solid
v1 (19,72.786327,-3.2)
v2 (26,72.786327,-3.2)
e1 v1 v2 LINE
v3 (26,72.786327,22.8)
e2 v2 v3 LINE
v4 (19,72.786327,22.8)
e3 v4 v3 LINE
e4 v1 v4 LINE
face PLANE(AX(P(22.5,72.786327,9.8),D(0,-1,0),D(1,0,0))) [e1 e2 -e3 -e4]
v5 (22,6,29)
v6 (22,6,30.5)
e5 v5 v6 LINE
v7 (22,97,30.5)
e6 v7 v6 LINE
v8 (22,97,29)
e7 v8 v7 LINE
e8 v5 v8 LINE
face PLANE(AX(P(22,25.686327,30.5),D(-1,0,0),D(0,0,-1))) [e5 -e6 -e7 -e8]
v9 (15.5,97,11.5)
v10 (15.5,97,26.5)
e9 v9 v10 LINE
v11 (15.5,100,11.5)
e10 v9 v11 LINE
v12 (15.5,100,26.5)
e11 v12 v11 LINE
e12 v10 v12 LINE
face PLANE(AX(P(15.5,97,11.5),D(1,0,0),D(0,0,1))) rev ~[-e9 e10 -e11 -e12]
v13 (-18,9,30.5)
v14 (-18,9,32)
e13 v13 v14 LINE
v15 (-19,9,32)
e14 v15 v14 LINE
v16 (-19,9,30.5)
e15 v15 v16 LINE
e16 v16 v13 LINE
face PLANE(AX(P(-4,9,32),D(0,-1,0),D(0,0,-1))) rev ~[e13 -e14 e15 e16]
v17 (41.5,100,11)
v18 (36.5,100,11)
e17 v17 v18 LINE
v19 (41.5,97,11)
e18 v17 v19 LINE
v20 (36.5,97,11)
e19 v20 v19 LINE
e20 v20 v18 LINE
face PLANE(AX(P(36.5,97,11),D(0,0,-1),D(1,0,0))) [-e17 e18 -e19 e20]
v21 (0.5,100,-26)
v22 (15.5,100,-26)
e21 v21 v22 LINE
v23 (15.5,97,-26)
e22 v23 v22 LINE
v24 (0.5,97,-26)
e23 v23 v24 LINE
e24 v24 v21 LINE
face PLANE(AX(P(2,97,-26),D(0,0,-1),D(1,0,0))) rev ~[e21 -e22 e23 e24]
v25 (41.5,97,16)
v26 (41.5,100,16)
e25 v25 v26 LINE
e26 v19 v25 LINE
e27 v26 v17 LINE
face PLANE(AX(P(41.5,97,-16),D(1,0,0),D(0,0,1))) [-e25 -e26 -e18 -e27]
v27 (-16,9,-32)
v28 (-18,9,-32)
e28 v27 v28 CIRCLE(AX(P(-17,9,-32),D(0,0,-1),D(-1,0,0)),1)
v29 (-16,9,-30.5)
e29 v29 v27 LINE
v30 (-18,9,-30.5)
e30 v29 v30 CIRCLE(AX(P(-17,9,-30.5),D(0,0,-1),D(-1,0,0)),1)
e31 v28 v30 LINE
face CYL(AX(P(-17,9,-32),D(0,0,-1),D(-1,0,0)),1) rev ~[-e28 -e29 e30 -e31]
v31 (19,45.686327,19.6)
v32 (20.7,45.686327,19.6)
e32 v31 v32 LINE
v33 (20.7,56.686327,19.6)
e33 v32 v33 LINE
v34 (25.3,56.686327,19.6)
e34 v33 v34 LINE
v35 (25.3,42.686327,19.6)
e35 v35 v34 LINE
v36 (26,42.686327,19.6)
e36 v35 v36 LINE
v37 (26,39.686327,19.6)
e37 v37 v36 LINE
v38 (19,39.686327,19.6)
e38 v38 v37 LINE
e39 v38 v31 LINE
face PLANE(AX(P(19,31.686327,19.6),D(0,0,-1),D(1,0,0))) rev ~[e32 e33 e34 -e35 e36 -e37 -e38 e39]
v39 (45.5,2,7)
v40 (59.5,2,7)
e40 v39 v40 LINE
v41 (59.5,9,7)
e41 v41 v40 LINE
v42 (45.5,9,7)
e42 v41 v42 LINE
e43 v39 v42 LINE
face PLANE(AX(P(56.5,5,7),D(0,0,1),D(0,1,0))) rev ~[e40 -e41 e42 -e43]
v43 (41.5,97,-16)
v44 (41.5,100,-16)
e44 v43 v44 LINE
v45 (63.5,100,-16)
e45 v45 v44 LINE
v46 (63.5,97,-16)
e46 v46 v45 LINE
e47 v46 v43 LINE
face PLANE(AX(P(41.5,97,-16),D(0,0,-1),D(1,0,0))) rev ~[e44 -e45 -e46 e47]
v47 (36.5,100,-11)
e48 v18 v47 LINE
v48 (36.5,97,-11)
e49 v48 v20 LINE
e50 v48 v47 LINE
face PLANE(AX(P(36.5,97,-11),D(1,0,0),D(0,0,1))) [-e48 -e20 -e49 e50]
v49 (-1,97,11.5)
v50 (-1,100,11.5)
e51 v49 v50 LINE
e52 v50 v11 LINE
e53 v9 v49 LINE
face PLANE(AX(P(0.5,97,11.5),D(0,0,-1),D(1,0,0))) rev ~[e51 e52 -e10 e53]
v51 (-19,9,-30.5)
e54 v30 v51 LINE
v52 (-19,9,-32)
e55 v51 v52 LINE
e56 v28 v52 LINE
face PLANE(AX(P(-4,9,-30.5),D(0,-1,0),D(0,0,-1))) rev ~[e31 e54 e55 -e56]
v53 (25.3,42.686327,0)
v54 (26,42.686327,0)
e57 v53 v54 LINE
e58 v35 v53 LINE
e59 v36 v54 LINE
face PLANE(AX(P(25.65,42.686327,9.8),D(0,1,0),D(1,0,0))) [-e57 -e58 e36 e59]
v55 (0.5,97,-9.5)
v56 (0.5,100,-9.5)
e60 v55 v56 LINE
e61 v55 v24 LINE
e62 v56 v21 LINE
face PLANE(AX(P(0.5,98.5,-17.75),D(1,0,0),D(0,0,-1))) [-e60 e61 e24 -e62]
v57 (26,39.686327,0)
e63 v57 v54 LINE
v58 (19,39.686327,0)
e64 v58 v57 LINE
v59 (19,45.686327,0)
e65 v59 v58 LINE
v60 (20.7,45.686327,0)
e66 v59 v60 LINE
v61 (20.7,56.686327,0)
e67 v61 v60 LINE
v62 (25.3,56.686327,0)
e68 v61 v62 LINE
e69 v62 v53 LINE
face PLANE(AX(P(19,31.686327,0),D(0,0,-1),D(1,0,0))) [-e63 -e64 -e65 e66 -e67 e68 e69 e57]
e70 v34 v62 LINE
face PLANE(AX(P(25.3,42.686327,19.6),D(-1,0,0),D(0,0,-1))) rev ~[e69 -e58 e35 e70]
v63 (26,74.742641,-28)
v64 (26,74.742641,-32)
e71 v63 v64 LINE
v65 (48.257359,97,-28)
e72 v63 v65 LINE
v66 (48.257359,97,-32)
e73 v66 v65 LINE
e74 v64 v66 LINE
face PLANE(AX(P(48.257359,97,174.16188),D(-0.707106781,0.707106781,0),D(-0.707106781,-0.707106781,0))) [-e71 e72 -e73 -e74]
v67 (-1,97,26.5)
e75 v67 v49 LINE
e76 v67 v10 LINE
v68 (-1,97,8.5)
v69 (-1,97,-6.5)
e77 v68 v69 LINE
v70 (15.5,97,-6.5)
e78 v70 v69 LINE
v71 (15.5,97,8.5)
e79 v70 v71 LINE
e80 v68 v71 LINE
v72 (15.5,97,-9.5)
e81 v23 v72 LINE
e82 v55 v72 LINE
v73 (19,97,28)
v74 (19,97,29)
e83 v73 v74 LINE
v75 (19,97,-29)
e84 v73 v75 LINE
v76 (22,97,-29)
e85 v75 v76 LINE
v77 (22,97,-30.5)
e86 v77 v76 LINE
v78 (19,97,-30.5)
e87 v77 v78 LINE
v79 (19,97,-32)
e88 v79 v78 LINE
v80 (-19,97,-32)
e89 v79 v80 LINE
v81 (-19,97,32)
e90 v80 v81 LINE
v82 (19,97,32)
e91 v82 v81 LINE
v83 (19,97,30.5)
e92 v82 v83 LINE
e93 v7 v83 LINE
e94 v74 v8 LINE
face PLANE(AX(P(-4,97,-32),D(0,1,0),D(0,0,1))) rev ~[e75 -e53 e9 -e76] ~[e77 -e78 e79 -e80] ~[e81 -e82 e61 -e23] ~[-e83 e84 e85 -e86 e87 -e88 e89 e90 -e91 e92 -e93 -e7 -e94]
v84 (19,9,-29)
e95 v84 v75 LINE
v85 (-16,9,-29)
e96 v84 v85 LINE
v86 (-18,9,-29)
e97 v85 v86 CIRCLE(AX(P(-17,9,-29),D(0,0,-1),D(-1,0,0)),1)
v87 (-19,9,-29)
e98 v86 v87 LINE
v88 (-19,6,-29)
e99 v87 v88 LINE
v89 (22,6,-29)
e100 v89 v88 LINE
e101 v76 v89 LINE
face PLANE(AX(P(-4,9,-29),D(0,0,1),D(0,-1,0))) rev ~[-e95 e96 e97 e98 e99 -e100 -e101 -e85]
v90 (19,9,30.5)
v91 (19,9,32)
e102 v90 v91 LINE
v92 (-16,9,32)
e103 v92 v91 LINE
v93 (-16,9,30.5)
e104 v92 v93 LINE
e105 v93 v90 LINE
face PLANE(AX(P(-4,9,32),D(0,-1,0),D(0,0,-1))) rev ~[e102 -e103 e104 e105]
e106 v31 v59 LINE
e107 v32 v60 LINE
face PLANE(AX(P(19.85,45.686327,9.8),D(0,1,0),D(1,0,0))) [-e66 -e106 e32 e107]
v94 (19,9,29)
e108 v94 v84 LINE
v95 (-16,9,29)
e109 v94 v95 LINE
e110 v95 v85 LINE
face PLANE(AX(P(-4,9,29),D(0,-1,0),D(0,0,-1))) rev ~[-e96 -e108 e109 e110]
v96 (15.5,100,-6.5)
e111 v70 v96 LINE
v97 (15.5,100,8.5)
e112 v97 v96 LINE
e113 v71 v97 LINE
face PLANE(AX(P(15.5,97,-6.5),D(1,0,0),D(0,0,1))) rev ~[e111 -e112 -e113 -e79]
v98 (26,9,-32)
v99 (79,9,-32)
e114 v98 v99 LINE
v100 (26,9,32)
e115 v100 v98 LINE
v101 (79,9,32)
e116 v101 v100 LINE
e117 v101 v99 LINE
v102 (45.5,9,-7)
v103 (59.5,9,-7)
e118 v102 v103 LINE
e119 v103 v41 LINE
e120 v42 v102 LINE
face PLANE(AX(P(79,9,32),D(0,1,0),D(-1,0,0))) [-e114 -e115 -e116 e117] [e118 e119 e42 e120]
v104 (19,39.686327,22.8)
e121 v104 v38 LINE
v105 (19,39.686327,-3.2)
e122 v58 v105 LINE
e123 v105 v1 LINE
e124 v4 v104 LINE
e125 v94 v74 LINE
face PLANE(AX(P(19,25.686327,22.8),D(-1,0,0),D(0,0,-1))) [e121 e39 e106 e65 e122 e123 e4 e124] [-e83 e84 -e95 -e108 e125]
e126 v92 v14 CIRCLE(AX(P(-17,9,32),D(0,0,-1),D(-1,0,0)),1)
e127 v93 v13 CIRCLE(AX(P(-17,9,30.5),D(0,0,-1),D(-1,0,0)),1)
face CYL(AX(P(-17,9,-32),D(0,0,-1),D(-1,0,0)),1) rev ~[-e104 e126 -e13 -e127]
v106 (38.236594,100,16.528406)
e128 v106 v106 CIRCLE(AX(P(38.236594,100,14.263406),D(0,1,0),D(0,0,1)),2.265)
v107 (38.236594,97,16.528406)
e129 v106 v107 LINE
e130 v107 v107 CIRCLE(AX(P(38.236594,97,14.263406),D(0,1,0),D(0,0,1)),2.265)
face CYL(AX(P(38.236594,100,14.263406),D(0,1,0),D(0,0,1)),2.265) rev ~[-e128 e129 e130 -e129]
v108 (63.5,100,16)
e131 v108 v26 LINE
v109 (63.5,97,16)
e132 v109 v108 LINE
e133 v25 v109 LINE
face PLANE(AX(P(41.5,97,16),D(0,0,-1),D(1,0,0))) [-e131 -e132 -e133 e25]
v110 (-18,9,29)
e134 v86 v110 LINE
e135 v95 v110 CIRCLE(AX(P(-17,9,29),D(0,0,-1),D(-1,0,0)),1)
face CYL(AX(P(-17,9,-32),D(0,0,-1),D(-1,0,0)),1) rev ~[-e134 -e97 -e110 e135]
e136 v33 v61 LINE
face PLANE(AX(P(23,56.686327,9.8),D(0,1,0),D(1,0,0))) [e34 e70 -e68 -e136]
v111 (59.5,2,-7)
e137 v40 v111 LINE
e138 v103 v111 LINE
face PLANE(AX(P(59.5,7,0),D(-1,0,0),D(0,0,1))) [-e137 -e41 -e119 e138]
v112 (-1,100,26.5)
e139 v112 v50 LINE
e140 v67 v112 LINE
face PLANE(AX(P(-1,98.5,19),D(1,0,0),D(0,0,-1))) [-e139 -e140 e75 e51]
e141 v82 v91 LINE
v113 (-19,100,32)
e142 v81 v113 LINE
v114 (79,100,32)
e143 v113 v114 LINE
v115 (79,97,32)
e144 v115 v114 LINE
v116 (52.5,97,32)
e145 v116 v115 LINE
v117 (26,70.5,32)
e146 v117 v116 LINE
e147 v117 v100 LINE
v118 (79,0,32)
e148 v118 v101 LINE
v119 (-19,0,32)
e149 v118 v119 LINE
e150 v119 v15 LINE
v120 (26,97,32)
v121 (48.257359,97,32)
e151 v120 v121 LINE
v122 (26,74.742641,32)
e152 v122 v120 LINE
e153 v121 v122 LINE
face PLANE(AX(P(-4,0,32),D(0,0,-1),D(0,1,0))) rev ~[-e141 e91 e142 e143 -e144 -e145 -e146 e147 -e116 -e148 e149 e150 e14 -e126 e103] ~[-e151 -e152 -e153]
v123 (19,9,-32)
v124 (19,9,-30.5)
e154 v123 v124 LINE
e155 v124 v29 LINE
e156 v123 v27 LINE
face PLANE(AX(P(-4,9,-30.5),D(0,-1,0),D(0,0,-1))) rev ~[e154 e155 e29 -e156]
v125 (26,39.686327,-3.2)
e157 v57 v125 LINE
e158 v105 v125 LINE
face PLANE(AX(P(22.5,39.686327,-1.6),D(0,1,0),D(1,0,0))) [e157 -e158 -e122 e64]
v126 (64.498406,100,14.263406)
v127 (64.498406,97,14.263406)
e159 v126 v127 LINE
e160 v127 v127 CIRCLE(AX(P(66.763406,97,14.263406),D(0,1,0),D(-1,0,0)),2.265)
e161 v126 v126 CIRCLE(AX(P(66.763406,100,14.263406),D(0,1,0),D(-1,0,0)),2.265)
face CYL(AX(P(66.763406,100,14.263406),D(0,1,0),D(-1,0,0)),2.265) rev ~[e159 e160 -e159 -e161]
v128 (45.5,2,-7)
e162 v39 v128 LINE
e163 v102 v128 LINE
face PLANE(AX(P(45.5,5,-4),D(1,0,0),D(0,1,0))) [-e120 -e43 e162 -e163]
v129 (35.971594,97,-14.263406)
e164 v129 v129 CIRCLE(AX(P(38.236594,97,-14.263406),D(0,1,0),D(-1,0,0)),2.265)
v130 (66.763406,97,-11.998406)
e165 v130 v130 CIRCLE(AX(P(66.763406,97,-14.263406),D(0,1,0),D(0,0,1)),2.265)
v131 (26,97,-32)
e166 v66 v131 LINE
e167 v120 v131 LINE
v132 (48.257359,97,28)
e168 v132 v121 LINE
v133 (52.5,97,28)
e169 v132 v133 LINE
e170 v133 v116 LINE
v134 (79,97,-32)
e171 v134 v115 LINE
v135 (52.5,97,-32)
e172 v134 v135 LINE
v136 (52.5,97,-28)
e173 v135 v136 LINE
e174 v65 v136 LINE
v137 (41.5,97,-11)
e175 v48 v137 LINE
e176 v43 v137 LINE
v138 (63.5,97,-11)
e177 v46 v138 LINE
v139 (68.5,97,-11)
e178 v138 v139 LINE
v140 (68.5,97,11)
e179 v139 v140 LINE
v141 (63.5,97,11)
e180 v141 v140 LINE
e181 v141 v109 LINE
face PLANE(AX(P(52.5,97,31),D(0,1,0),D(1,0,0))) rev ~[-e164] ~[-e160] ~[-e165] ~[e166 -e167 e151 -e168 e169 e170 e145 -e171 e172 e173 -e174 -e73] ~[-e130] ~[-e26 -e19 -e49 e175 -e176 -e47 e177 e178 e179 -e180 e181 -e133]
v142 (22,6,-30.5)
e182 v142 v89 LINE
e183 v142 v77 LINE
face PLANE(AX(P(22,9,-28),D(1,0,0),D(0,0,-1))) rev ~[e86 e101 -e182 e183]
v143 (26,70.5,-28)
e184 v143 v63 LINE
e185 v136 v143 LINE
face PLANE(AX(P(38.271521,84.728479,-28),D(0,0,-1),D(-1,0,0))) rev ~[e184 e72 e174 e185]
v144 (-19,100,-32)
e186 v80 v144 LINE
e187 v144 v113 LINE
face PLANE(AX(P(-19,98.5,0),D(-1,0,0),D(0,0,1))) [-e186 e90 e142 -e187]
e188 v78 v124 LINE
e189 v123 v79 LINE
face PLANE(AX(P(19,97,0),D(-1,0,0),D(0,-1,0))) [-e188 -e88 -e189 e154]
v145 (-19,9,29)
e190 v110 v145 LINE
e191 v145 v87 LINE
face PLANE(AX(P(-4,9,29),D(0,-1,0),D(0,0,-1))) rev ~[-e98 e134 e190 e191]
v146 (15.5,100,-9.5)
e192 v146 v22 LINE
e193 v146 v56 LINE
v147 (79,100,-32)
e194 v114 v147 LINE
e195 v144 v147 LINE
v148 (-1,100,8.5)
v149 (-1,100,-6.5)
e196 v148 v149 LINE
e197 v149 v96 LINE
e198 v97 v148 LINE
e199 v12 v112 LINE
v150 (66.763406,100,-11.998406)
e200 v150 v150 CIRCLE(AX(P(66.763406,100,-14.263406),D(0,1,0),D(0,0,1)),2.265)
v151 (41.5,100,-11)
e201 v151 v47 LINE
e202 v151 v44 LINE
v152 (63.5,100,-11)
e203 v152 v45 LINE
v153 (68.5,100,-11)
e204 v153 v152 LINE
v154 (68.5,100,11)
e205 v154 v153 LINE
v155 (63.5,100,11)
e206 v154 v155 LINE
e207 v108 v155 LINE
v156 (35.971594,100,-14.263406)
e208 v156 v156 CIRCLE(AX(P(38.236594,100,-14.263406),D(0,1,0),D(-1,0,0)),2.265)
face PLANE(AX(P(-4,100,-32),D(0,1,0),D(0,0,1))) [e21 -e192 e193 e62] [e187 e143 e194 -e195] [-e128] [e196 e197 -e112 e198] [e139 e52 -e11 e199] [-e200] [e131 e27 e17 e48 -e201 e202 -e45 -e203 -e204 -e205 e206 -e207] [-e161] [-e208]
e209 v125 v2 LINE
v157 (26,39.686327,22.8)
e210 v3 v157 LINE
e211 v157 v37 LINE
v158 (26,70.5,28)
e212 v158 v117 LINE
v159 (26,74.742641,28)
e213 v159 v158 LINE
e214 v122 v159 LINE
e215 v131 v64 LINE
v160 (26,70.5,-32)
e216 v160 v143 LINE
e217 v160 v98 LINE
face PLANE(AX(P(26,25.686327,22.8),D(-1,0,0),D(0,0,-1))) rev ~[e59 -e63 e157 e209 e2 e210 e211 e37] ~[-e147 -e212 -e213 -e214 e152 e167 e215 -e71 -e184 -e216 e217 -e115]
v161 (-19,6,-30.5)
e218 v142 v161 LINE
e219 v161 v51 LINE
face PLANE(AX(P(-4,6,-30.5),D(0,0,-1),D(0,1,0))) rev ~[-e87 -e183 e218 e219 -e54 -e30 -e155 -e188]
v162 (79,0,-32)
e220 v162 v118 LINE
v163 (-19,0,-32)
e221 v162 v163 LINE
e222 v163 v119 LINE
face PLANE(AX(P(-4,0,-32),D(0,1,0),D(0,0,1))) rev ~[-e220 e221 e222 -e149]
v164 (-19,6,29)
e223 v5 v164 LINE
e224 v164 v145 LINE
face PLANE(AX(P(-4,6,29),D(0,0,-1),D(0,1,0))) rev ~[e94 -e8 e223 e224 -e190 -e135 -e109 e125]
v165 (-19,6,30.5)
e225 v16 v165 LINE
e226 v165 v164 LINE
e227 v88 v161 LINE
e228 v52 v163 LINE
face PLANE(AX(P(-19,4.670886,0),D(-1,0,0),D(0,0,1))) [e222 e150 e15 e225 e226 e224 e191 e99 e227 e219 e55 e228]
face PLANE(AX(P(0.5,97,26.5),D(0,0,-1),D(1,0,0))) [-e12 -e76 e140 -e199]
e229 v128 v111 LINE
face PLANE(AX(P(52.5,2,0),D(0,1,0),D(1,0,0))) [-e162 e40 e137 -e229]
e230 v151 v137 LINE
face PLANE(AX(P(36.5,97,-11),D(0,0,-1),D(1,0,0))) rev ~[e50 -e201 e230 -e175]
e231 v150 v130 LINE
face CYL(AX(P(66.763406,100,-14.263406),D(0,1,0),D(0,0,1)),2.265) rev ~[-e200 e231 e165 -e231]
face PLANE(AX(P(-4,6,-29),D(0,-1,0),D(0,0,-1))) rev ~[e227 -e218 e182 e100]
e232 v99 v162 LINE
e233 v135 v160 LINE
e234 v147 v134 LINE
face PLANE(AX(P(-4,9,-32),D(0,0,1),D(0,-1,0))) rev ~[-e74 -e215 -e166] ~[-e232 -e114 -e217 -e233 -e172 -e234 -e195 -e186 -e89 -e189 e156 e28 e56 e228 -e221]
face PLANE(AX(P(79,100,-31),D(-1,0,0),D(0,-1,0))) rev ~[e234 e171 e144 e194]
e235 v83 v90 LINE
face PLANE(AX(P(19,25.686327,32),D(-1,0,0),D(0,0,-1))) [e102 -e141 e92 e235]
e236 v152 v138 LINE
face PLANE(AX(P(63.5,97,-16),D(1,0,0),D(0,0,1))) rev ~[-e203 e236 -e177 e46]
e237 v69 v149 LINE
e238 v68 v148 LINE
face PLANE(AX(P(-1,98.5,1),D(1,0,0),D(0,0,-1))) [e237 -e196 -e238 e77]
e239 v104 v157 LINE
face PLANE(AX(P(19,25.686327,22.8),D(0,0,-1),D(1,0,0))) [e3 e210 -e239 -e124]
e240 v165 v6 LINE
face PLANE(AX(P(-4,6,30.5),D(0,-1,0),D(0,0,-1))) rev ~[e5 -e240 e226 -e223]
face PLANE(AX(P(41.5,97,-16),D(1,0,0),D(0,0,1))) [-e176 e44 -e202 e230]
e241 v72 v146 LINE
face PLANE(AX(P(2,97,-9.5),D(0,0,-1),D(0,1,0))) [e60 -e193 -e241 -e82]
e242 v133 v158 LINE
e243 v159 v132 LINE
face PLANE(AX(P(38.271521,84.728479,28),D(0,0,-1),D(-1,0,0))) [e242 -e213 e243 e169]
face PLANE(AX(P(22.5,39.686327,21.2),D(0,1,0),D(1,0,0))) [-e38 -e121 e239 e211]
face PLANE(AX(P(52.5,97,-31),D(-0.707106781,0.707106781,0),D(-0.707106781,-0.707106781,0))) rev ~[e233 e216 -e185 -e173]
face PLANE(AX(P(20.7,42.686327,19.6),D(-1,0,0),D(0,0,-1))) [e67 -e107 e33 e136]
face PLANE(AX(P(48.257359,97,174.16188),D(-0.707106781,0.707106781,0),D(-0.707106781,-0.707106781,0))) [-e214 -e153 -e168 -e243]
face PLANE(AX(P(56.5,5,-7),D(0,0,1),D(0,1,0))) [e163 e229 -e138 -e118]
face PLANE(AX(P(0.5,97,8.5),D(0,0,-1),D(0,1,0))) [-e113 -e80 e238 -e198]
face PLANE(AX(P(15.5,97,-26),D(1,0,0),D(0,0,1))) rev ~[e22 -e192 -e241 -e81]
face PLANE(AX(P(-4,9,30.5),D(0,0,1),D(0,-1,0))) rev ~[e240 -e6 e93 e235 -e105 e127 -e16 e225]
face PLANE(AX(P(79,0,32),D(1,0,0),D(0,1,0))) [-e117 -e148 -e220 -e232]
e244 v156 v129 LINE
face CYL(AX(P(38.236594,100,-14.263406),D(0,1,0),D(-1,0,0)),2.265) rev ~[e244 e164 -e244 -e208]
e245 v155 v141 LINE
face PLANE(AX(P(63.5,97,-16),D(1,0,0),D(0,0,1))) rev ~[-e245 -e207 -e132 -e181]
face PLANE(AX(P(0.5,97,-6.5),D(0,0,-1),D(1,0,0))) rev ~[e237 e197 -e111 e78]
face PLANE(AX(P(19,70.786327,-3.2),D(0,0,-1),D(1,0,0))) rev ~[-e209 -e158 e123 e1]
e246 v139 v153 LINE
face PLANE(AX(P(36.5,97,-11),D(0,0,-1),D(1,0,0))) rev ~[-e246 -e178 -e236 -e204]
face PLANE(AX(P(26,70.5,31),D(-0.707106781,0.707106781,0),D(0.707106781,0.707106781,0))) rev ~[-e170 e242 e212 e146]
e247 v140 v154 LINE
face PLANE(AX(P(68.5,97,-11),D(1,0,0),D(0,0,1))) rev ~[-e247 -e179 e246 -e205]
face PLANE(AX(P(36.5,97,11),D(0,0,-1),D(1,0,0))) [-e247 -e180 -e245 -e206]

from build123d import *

# Parameters (mm, degrees)
EXTRUDE_2_DEPTH           = 31
SKETCH_2_W                = 8
SKETCH_2_H                = 8
CUT_EXTRUDE_1_DEPTH       = 4
EXTRUDE_4_DEPTH           = 3
EXTRUDE_5_DEPTH           = 3
SKETCH_10_W               = 22
SKETCH_10_H               = 11
CUT_EXTRUDE_2_DEPTH       = 118.345643294
SKETCH_11_W               = 0.7
SKETCH_11_H               = 28
CUT_EXTRUDE_3_DEPTH       = 118.345643294
SKETCH_12_W               = 0.7
SKETCH_12_H               = 28
CUT_EXTRUDE_4_DEPTH       = 118.345643294
SKETCH_13_W               = 20.6
SKETCH_13_H               = 11
CUT_EXTRUDE_6_DEPTH       = 0.7
SKETCH_15_W               = 20.6
SKETCH_15_H               = 14
CUT_EXTRUDE_7_DEPTH       = 0.7
SKETCH_17_W               = 15
SKETCH_17_H               = 15
CUT_EXTRUDE_8_DEPTH       = 129.883668477
SKETCH_18_W               = 62
SKETCH_18_H               = 3
EXTRUDE_6_DEPTH           = 3
SKETCH_20_W               = 62
SKETCH_20_H               = 9
EXTRUDE_7_DEPTH           = 3
SKETCH_22_W               = 15
SKETCH_22_H               = 15
CUT_EXTRUDE_10_DEPTH      = 129.883668477
SKETCH_23_W               = 13.5
SKETCH_23_H               = 16.5
CUT_EXTRUDE_11_DEPTH      = 129.883668477
SKETCH_26_W               = 32
SKETCH_26_H               = 22
CUT_EXTRUDE_14_DEPTH      = 129.883668477
SKETCH_29_W               = 22
SKETCH_29_H               = 32
CUT_EXTRUDE_15_DEPTH      = 129.883668477
CUT_EXTRUDE_16_REACH      = 133.156
SKETCH_30_R               = 1.263405553
SKETCH_31_W               = 25
SKETCH_31_H               = 1.5
CUT_EXTRUDE_18_DEPTH      = 3
SKETCH_32_W               = 3
SKETCH_32_H               = 1.5
CUT_EXTRUDE_19_DEPTH      = 88
SKETCH_33_W               = 3
SKETCH_33_H               = 1.5
CUT_EXTRUDE_20_DEPTH      = 17
SKETCH_34_W               = 1.5
SKETCH_34_H               = 43.313673025
CUT_EXTRUDE_21_DEPTH      = 3
SKETCH_35_R               = 1
CUT_EXTRUDE_23_DEPTH      = 142.721557993
SKETCH_39_R               = 2.265
CUT_EXTRUDE_24_DEPTH      = 10
SKETCH_40_W               = 15
SKETCH_40_H               = 3
CUT_EXTRUDE_25_DEPTH      = 1.5
SKETCH_41_W               = 15
SKETCH_41_H               = 3
CUT_EXTRUDE_26_DEPTH      = 1.5
SKETCH_42_W               = 16.5
SKETCH_42_H               = 3
CUT_EXTRUDE_27_DEPTH      = 1.5
SKETCH_43_W               = 7
SKETCH_43_H               = 28
CUT_EXTRUDE_28_DEPTH      = 1.5
CUT_EXTRUDE_29_DEPTH      = 1
SKETCH_45_W               = 19.6
SKETCH_45_H               = 11
CUT_EXTRUDE_30_DEPTH      = 1
EXTRUDE_8_DEPTH           = 1
EXTRUDE_START             = 1
EXTRUDE_9_DEPTH           = 1
EXTRUDE_10_DEPTH          = 1
CUT_EXTRUDE_31_DEPTH      = 1
EXTRUDE_11_DEPTH          = 1
SKETCH_51_W               = 3
SKETCH_51_H               = 43.313673025
CUT_EXTRUDE_32_DEPTH      = 1
SKETCH_52_W               = 3
SKETCH_52_H               = 43.313673025
EXTRUDE_12_DEPTH          = 1
CUT_EXTRUDE_START         = -1
CUT_EXTRUDE_33_DEPTH      = 1
EXTRUDE_13_DEPTH          = 1
SKETCH_56_W               = 64
SKETCH_56_H               = 3
EXTRUDE_14_DEPTH          = 1
EXTRUDE_15_DEPTH          = 1
CUT_EXTRUDE_34_DEPTH      = 12.1
SKETCH_60_W               = 7.5
SKETCH_60_H               = 40.1
CUT_EXTRUDE_35_DEPTH      = 118.613774703
EXTRUDE_16_DEPTH          = 7.5
CUT_EXTRUDE_37_DEPTH      = 7.5
SKETCH_63_W               = 6.2
SKETCH_63_H               = 0.313673025
CUT_EXTRUDE_38_DEPTH      = 120.469661421
SKETCH_66_W               = 7
SKETCH_66_H               = 40.1
CUT_EXTRUDE_39_DEPTH      = 3.2
EXTRUDE_17_DEPTH          = 3.2
CUT_EXTRUDE_40_DEPTH      = 3.2
EXTRUDE_18_DEPTH          = 48.2
SKETCH_71_W               = 4.6
SKETCH_71_H               = 19.6
EXTRUDE_19_DEPTH          = 14
SKETCH_72_W               = 0.7
SKETCH_72_H               = 19.6
EXTRUDE_20_DEPTH          = 14
SKETCH_73_W               = 1.7
SKETCH_73_H               = 19.6
EXTRUDE_21_DEPTH          = 14
SKETCH_74_W               = 7
SKETCH_74_H               = 26
CUT_EXTRUDE_41_DEPTH      = 5
SKETCH_75_W               = 7
SKETCH_75_H               = 26
CUT_EXTRUDE_42_DEPTH      = 2
SKETCH_76_W               = 7
SKETCH_76_H               = 3.2
EXTRUDE_22_DEPTH          = 14
SKETCH_77_W               = 7
SKETCH_77_H               = 3.2
EXTRUDE_23_DEPTH          = 14
CUT_EXTRUDE_43_DEPTH      = 143.16187956
CUT_EXTRUDE_43_DEPTH_BACK = 143.16187956
SKETCH_79_W               = 8
SKETCH_79_H               = 4
CUT_EXTRUDE_44_DEPTH      = 3
SKETCH_80_W               = 11
SKETCH_80_H               = 4
CUT_EXTRUDE_45_DEPTH      = 3
SKETCH_81_W               = 11
SKETCH_81_H               = 4
CUT_EXTRUDE_46_DEPTH      = 3
SKETCH_82_W               = 14
SKETCH_82_H               = 4
CUT_EXTRUDE_47_DEPTH      = 3
SKETCH_83_W               = 14
SKETCH_83_H               = 14
CUT_EXTRUDE_48_DEPTH      = 3
SKETCH_84_W               = 64
SKETCH_84_H               = 3
EXTRUDE_24_DEPTH          = 15
EXTRUDE_25_DEPTH          = 15
EXTRUDE_26_DEPTH          = 20
SKETCH_87_R               = 1
CUT_EXTRUDE_49_DEPTH      = 143.607853921


with BuildPart() as part:
    # 草图1 → 凸台-拉伸2 (new, symmetric)
    with BuildSketch(Plane.XY):
        Polygon((0, 0), (79, 0), (79, 9), (26, 9), (26, 97), (79, 97), (79, 100), (0, 100), (0, 97), (19, 97), (19, 9), (0, 9), align=None)
    extrude(amount=EXTRUDE_2_DEPTH, both=True)

    # 草图2 → 切除-拉伸1 (cut)
    with BuildSketch(Plane(origin=(0, 9, 0), x_dir=(1, 0, 0), z_dir=(0, 1, 0))):
        with Locations((52.5, 0)):
            Rectangle(SKETCH_2_W, SKETCH_2_H)
    extrude(amount=-CUT_EXTRUDE_1_DEPTH, mode=Mode.SUBTRACT)

    # 草图5 → 凸台-拉伸4 (add)
    with BuildSketch(Plane.XY.offset(31)):
        Polygon((26, 70.5), (26, 74.742640687), (48.257359313, 97), (52.5, 97), align=None)
    extrude(amount=-EXTRUDE_4_DEPTH)

    # 草图9 → 凸台-拉伸5 (add)
    with BuildSketch(Plane(origin=(0, 0, -31), x_dir=(-1, 0, 0), z_dir=(0, 0, -1))):
        Polygon((-52.5, 97), (-26, 70.5), (-26, 74.742640687), (-48.257359313, 97), align=None)
    extrude(amount=-EXTRUDE_5_DEPTH)

    # 草图10 → 切除-拉伸2 (cut, through all)
    with BuildSketch(Plane(origin=(26, 0, 0), x_dir=(0, 0, -1), z_dir=(1, 0, 0))):
        with Locations((-20, 48.186326975)):
            Rectangle(SKETCH_10_W, SKETCH_10_H)
    extrude(amount=-CUT_EXTRUDE_2_DEPTH, mode=Mode.SUBTRACT)

    # 草图11 → 切除-拉伸3 (cut, through all)
    with BuildSketch(Plane(origin=(26, 0, 0), x_dir=(0, 0, -1), z_dir=(1, 0, 0))):
        with Locations((-9.35, 39.686326975)):
            Rectangle(SKETCH_11_W, SKETCH_11_H)
    extrude(amount=-CUT_EXTRUDE_3_DEPTH, mode=Mode.SUBTRACT)

    # 草图12 → 切除-拉伸4 (cut, through all)
    with BuildSketch(Plane(origin=(26, 0, 0), x_dir=(0, 0, -1), z_dir=(1, 0, 0))):
        with Locations((-30.65, 39.686326975)):
            Rectangle(SKETCH_12_W, SKETCH_12_H)
    extrude(amount=-CUT_EXTRUDE_4_DEPTH, mode=Mode.SUBTRACT)

    # 草图13 → 切除-拉伸6 (cut)
    with BuildSketch(Plane.ZY.offset(-19)):
        with Locations((20, 37.186326975)):
            Rectangle(SKETCH_13_W, SKETCH_13_H)
    extrude(amount=-CUT_EXTRUDE_6_DEPTH, mode=Mode.SUBTRACT)

    # 草图15 → 切除-拉伸7 (cut)
    with BuildSketch(Plane(origin=(26, 0, 0), x_dir=(0, 0, -1), z_dir=(1, 0, 0))):
        with Locations((-20, 35.686326975)):
            Rectangle(SKETCH_15_W, SKETCH_15_H)
    extrude(amount=-CUT_EXTRUDE_7_DEPTH, mode=Mode.SUBTRACT)

    # 草图17 → 切除-拉伸8 (cut, through all)
    with BuildSketch(Plane.XZ.offset(-97)):
        with Locations((8, 19)):
            Rectangle(SKETCH_17_W, SKETCH_17_H)
    extrude(amount=-CUT_EXTRUDE_8_DEPTH, mode=Mode.SUBTRACT)

    # 草图18 → 凸台-拉伸6 (add)
    with BuildSketch(Plane.ZY):
        with Locations((0, 98.5)):
            Rectangle(SKETCH_18_W, SKETCH_18_H)
    extrude(amount=EXTRUDE_6_DEPTH)

    # 草图20 → 凸台-拉伸7 (add)
    with BuildSketch(Plane.ZY):
        with Locations((0, 4.5)):
            Rectangle(SKETCH_20_W, SKETCH_20_H)
    extrude(amount=EXTRUDE_7_DEPTH)

    # 草图22 → 切除-拉伸10 (cut, through all)
    with BuildSketch(Plane.XZ.offset(-97)):
        with Locations((8, 1)):
            Rectangle(SKETCH_22_W, SKETCH_22_H)
    extrude(amount=-CUT_EXTRUDE_10_DEPTH, mode=Mode.SUBTRACT)

    # 草图23 → 切除-拉伸11 (cut, through all)
    with BuildSketch(Plane.XZ.offset(-97)):
        with Locations((8.75, -17.75)):
            Rectangle(SKETCH_23_W, SKETCH_23_H)
    extrude(amount=-CUT_EXTRUDE_11_DEPTH, mode=Mode.SUBTRACT)

    # 草图26 → 切除-拉伸14 (cut, through all)
    with BuildSketch(Plane.XZ.offset(-97)):
        with Locations((52.5, 0)):
            Rectangle(SKETCH_26_W, SKETCH_26_H)
    extrude(amount=-CUT_EXTRUDE_14_DEPTH, mode=Mode.SUBTRACT)

    # 草图29 → 切除-拉伸15 (cut, through all)
    with BuildSketch(Plane.XZ.offset(-97)):
        with Locations((52.5, 0)):
            Rectangle(SKETCH_29_W, SKETCH_29_H)
    extrude(amount=-CUT_EXTRUDE_15_DEPTH, mode=Mode.SUBTRACT)

    # 草图30 → 切除-拉伸16 (cut, up to next)
    with BuildSketch(Plane(origin=(0, 100, 0), x_dir=(1, 0, 0), z_dir=(0, 1, 0)), mode=Mode.PRIVATE) as cut_extrude_16_sk1:
        with Locations((38.236594447, -14.263405553)):
            Circle(SKETCH_30_R)
    cut_extrude_16_tool1 = extrude(cut_extrude_16_sk1.sketch, amount=-CUT_EXTRUDE_16_REACH, mode=Mode.PRIVATE) & part.part
    # 草图30 → 切除-拉伸16 (cut, up to next)
    with BuildSketch(Plane(origin=(0, 100, 0), x_dir=(1, 0, 0), z_dir=(0, 1, 0)), mode=Mode.PRIVATE) as cut_extrude_16_sk2:
        with Locations((66.763405553, -14.263405553)):
            Circle(SKETCH_30_R)
    cut_extrude_16_tool2 = extrude(cut_extrude_16_sk2.sketch, amount=-CUT_EXTRUDE_16_REACH, mode=Mode.PRIVATE) & part.part
    # 草图30 → 切除-拉伸16 (cut, up to next)
    with BuildSketch(Plane(origin=(0, 100, 0), x_dir=(1, 0, 0), z_dir=(0, 1, 0)), mode=Mode.PRIVATE) as cut_extrude_16_sk3:
        with Locations((66.763405553, 14.263405553)):
            Circle(SKETCH_30_R)
    cut_extrude_16_tool3 = extrude(cut_extrude_16_sk3.sketch, amount=-CUT_EXTRUDE_16_REACH, mode=Mode.PRIVATE) & part.part
    # 草图30 → 切除-拉伸16 (cut, up to next)
    with BuildSketch(Plane(origin=(0, 100, 0), x_dir=(1, 0, 0), z_dir=(0, 1, 0)), mode=Mode.PRIVATE) as cut_extrude_16_sk4:
        with Locations((38.236594447, 14.263405553)):
            Circle(SKETCH_30_R)
    cut_extrude_16_tool4 = extrude(cut_extrude_16_sk4.sketch, amount=-CUT_EXTRUDE_16_REACH, mode=Mode.PRIVATE) & part.part
    add(cut_extrude_16_tool1.solids().sort_by_distance((38.236594, 100, 14.263406))[0], mode=Mode.SUBTRACT)
    add(cut_extrude_16_tool2.solids().sort_by_distance((66.763406, 100, 14.263406))[0], mode=Mode.SUBTRACT)
    add(cut_extrude_16_tool3.solids().sort_by_distance((66.763406, 100, -14.263406))[0], mode=Mode.SUBTRACT)
    add(cut_extrude_16_tool4.solids().sort_by_distance((38.236594, 100, -14.263406))[0], mode=Mode.SUBTRACT)

    # 草图31 → 切除-拉伸18 (cut)
    with BuildSketch(Plane(origin=(0, 9, 0), x_dir=(1, 0, 0), z_dir=(0, 1, 0))):
        with Locations((9.5, 28.75)):
            Rectangle(SKETCH_31_W, SKETCH_31_H)
        with Locations((9.5, -28.75)):
            Rectangle(SKETCH_31_W, SKETCH_31_H)
    extrude(amount=-CUT_EXTRUDE_18_DEPTH, mode=Mode.SUBTRACT)

    # 草图32 → 切除-拉伸19 (cut)
    with BuildSketch(Plane.XZ.offset(-9)):
        with Locations((20.5, -28.75)):
            Rectangle(SKETCH_32_W, SKETCH_32_H)
    extrude(amount=-CUT_EXTRUDE_19_DEPTH, mode=Mode.SUBTRACT)

    # 草图33 → 切除-拉伸20 (cut)
    with BuildSketch(Plane.XZ.offset(-9)):
        with Locations((20.5, 28.75)):
            Rectangle(SKETCH_33_W, SKETCH_33_H)
    extrude(amount=-CUT_EXTRUDE_20_DEPTH, mode=Mode.SUBTRACT)

    # 草图34 → 切除-拉伸21 (cut)
    with BuildSketch(Plane.ZY.offset(-19)):
        with Locations((28.75, 75.343163487)):
            Rectangle(SKETCH_34_W, SKETCH_34_H)
    extrude(amount=-CUT_EXTRUDE_21_DEPTH, mode=Mode.SUBTRACT)

    # 草图35 → 切除-拉伸23 (cut, through all)
    with BuildSketch(Plane.XY.offset(31)):
        with Locations((-1, 9)):
            Circle(SKETCH_35_R)
    extrude(amount=-CUT_EXTRUDE_23_DEPTH, mode=Mode.SUBTRACT)

    # 草图39 → 切除-拉伸24 (cut)
    with BuildSketch(Plane(origin=(0, 100, 0), x_dir=(1, 0, 0), z_dir=(0, 1, 0))):
        with Locations((66.763405553, -14.263405553)):
            Circle(SKETCH_39_R)
        with Locations((38.236594447, -14.263405553)):
            Circle(SKETCH_39_R)
        with Locations((66.763405553, 14.263405553)):
            Circle(SKETCH_39_R)
        with Locations((38.236594447, 14.263405553)):
            Circle(SKETCH_39_R)
    extrude(amount=-CUT_EXTRUDE_24_DEPTH, mode=Mode.SUBTRACT)

    # 草图40 → 切除-拉伸25 (cut)
    with BuildSketch(Plane(origin=(0.5, 0, 0), x_dir=(0, 0, -1), z_dir=(1, 0, 0))):
        with Locations((-19, 98.5)):
            Rectangle(SKETCH_40_W, SKETCH_40_H)
    extrude(amount=-CUT_EXTRUDE_25_DEPTH, mode=Mode.SUBTRACT)

    # 草图41 → 切除-拉伸26 (cut)
    with BuildSketch(Plane(origin=(0.5, 0, 0), x_dir=(0, 0, -1), z_dir=(1, 0, 0))):
        with Locations((-1, 98.5)):
            Rectangle(SKETCH_41_W, SKETCH_41_H)
    extrude(amount=-CUT_EXTRUDE_26_DEPTH, mode=Mode.SUBTRACT)

    # 草图42 → 切除-拉伸27 (cut)
    with BuildSketch(Plane(origin=(2, 0, 0), x_dir=(0, 0, -1), z_dir=(1, 0, 0))):
        with Locations((17.75, 98.5)):
            Rectangle(SKETCH_42_W, SKETCH_42_H)
    extrude(amount=-CUT_EXTRUDE_27_DEPTH, mode=Mode.SUBTRACT)

    # 草图43 → 切除-拉伸28 (cut)
    with BuildSketch(Plane.XY.offset(9)):
        with Locations((22.5, 39.686326975)):
            Rectangle(SKETCH_43_W, SKETCH_43_H)
    extrude(amount=-CUT_EXTRUDE_28_DEPTH, mode=Mode.SUBTRACT)

    # 草图44 → 切除-拉伸29 (cut)
    with BuildSketch(Plane(origin=(0, 0, 9.7), x_dir=(-1, 0, 0), z_dir=(0, 0, -1))):
        Polygon((-25.3, 42.686326975), (-25.3, 28.686326975), (-26, 28.686326975), (-26, 25.686326975), (-19, 25.686326975), (-19, 31.686326975), (-19.7, 31.686326975), (-19.7, 42.686326975), align=None)
    extrude(amount=-CUT_EXTRUDE_29_DEPTH, mode=Mode.SUBTRACT)

    # 草图45 → 切除-拉伸30 (cut)
    with BuildSketch(Plane.ZY.offset(-19.7)):
        with Locations((20.5, 37.186326975)):
            Rectangle(SKETCH_45_W, SKETCH_45_H)
    extrude(amount=-CUT_EXTRUDE_30_DEPTH, mode=Mode.SUBTRACT)

    # 草图46 → 凸台-拉伸8 (add)
    with BuildSketch(Plane.XY.offset(31)):
        Polygon((19, 53.686326975), (26, 53.686326975), (26, 70.5), (52.5, 97), (79, 97), (79, 100), (-3, 100), (-3, 97), (19, 97), align=None)
    extrude(amount=EXTRUDE_8_DEPTH)

    # 草图47 → 凸台-拉伸9 (add)
    with BuildSketch(Plane.XY.offset(31).offset(EXTRUDE_START)):
        with BuildLine():
            Line((-2, 9), (-3, 9))
            Line((-3, 9), (-3, 0))
            Line((-3, 0), (79, 0))
            Line((79, 0), (79, 9))
            Line((79, 9), (26, 9))
            Line((26, 9), (26, 25.686326975))
            Line((26, 25.686326975), (19, 25.686326975))
            Line((19, 25.686326975), (19, 9))
            Line((19, 9), (0, 9))
            ThreePointArc((0, 9), (-1, 8), (-2, 9))
        make_face()
    extrude(amount=-EXTRUDE_9_DEPTH)

    # 草图48 → 凸台-拉伸10 (add)
    with BuildSketch(Plane(origin=(0, 0, -31), x_dir=(-1, 0, 0), z_dir=(0, 0, -1))):
        with BuildLine():
            Line((3, 9), (2, 9))
            ThreePointArc((2, 9), (1, 8), (0, 9))
            Line((0, 9), (-19, 9))
            Line((-19, 9), (-19, 97))
            Line((-19, 97), (3, 97))
            Line((3, 97), (3, 100))
            Line((3, 100), (-79, 100))
            Line((-79, 100), (-79, 97))
            Line((-79, 97), (-52.5, 97))
            Line((-52.5, 97), (-26, 70.5))
            Line((-26, 70.5), (-26, 9))
            Line((-26, 9), (-79, 9))
            Line((-79, 9), (-79, 0))
            Line((-79, 0), (3, 0))
            Line((3, 0), (3, 9))
        make_face()
    extrude(amount=EXTRUDE_10_DEPTH)

    # 草图49 → 切除-拉伸31 (cut)
    with BuildSketch(Plane.XY.offset(-29.5)):
        with BuildLine():
            Line((19, 9), (0, 9))
            ThreePointArc((0, 9), (-1, 8), (-2, 9))
            Line((-2, 9), (-3, 9))
            Line((-3, 9), (-3, 6))
            Line((-3, 6), (22, 6))
            Line((22, 6), (22, 97))
            Line((22, 97), (19, 97))
            Line((19, 97), (19, 9))
        make_face()
    extrude(amount=-CUT_EXTRUDE_31_DEPTH, mode=Mode.SUBTRACT)

    # 草图50 → 凸台-拉伸11 (add)
    with BuildSketch(Plane(origin=(0, 0, -28), x_dir=(-1, 0, 0), z_dir=(0, 0, -1))):
        with BuildLine():
            Line((3, 9), (2, 9))
            ThreePointArc((2, 9), (1, 8), (0, 9))
            Line((0, 9), (-19, 9))
            Line((-19, 9), (-19, 97))
            Line((-19, 97), (-22, 97))
            Line((-22, 97), (-22, 6))
            Line((-22, 6), (3, 6))
            Line((3, 6), (3, 9))
        make_face()
    extrude(amount=EXTRUDE_11_DEPTH)

    # 草图51 → 切除-拉伸32 (cut)
    with BuildSketch(Plane(origin=(0, 0, 29.5), x_dir=(-1, 0, 0), z_dir=(0, 0, -1))):
        with Locations((-20.5, 75.343163487)):
            Rectangle(SKETCH_51_W, SKETCH_51_H)
    extrude(amount=-CUT_EXTRUDE_32_DEPTH, mode=Mode.SUBTRACT)

    # 草图52 → 凸台-拉伸12 (add)
    with BuildSketch(Plane.XY.offset(28)):
        with Locations((20.5, 75.343163487)):
            Rectangle(SKETCH_52_W, SKETCH_52_H)
    extrude(amount=EXTRUDE_12_DEPTH)

    # 草图53 → 切除-拉伸33 (cut)
    with BuildSketch(Plane(origin=(0, 0, 29.5), x_dir=(-1, 0, 0), z_dir=(0, 0, -1)).offset(CUT_EXTRUDE_START)):
        with BuildLine():
            Line((3, 9), (2, 9))
            ThreePointArc((2, 9), (1, 8), (0, 9))
            Line((0, 9), (-19, 9))
            Line((-19, 9), (-19, 26))
            Line((-19, 26), (-22, 26))
            Line((-22, 26), (-22, 6))
            Line((-22, 6), (3, 6))
            Line((3, 6), (3, 9))
        make_face()
    extrude(amount=CUT_EXTRUDE_33_DEPTH, mode=Mode.SUBTRACT)

    # 草图54 → 凸台-拉伸13 (add)
    with BuildSketch(Plane.XY.offset(28).offset(EXTRUDE_START)):
        with BuildLine():
            Line((19, 9), (0, 9))
            ThreePointArc((0, 9), (-1, 8), (-2, 9))
            Line((-2, 9), (-3, 9))
            Line((-3, 9), (-3, 6))
            Line((-3, 6), (22, 6))
            Line((22, 6), (22, 26))
            Line((22, 26), (19, 26))
            Line((19, 26), (19, 9))
        make_face()
    extrude(amount=-EXTRUDE_13_DEPTH)

    # 草图56 → 凸台-拉伸14 (add)
    with BuildSketch(Plane.ZY.offset(3)):
        with Locations((0, 98.5)):
            Rectangle(SKETCH_56_W, SKETCH_56_H)
    extrude(amount=EXTRUDE_14_DEPTH)

    # 草图57 → 凸台-拉伸15 (add)
    with BuildSketch(Plane.ZY.offset(3)):
        Polygon((29, 6), (29, 9), (-29, 9), (-29, 6), (-30.5, 6), (-30.5, 9), (-32, 9), (-32, 0), (32, 0), (32, 9), (30.5, 9), (30.5, 6), align=None)
    extrude(amount=EXTRUDE_15_DEPTH)

    # 草图59 → 切除-拉伸34 (cut)
    with BuildSketch(Plane.XZ.offset(-53.686326975)):
        Polygon((22, 29), (19, 29), (19, 7.5), (26, 7.5), (26, 32), (19, 32), (19, 30.5), (22, 30.5), align=None)
    extrude(amount=-CUT_EXTRUDE_34_DEPTH, mode=Mode.SUBTRACT)

    # 草图60 → 切除-拉伸35 (cut, through all)
    with BuildSketch(Plane(origin=(26, 0, 0), x_dir=(0, 0, -1), z_dir=(1, 0, 0))):
        with Locations((-3.75, 45.736326975)):
            Rectangle(SKETCH_60_W, SKETCH_60_H)
    extrude(amount=-CUT_EXTRUDE_35_DEPTH, mode=Mode.SUBTRACT)

    # 草图61 → 凸台-拉伸16 (add)
    with BuildSketch(Plane(origin=(0, 0, 10.7), x_dir=(-1, 0, 0), z_dir=(0, 0, -1))):
        Polygon((-19, 31.686326975), (-20.7, 31.686326975), (-20.7, 42.686326975), (-25.3, 42.686326975), (-25.3, 28.686326975), (-26, 28.686326975), (-26, 25.686326975), (-19, 25.686326975), align=None)
    extrude(amount=EXTRUDE_16_DEPTH)

    # 草图62 → 切除-拉伸37 (cut)
    with BuildSketch(Plane.XY.offset(30.3)):
        Polygon((19, 26), (22, 26), (22, 25.686326975), (26, 25.686326975), (26, 28.686326975), (25.3, 28.686326975), (25.3, 42.686326975), (20.7, 42.686326975), (20.7, 31.686326975), (19, 31.686326975), align=None)
    extrude(amount=-CUT_EXTRUDE_37_DEPTH, mode=Mode.SUBTRACT)

    # 草图63 → 切除-拉伸38 (cut, through all)
    with BuildSketch(Plane(origin=(22, 0, 0), x_dir=(0, 0, -1), z_dir=(1, 0, 0))):
        with Locations((-25.9, 25.843163488)):
            Rectangle(SKETCH_63_W, SKETCH_63_H)
    extrude(amount=-CUT_EXTRUDE_38_DEPTH, mode=Mode.SUBTRACT)

    # 草图66 → 切除-拉伸39 (cut)
    with BuildSketch(Plane.XY):
        with Locations((22.5, 45.736326975)):
            Rectangle(SKETCH_66_W, SKETCH_66_H)
    extrude(amount=-CUT_EXTRUDE_39_DEPTH, mode=Mode.SUBTRACT)

    # 草图67 → 凸台-拉伸17 (add)
    with BuildSketch(Plane(origin=(0, 0, 3.2), x_dir=(-1, 0, 0), z_dir=(0, 0, -1))):
        Polygon((-19, 25.686326975), (-19, 31.686326975), (-20.7, 31.686326975), (-20.7, 42.686326975), (-25.3, 42.686326975), (-25.3, 28.686326975), (-26, 28.686326975), (-26, 25.686326975), align=None)
    extrude(amount=EXTRUDE_17_DEPTH)

    # 草图68 → 切除-拉伸40 (cut)
    with BuildSketch(Plane.XY.offset(22.8)):
        Polygon((19, 31.686326975), (19, 25.686326975), (26, 25.686326975), (26, 28.686326975), (25.3, 28.686326975), (25.3, 42.686326975), (20.7, 42.686326975), (20.7, 31.686326975), align=None)
    extrude(amount=-CUT_EXTRUDE_40_DEPTH, mode=Mode.SUBTRACT)

    # 草图70 → 凸台-拉伸18 (add)
    with BuildSketch(Plane(origin=(0, 25.686326975, 0), x_dir=(1, 0, 0), z_dir=(0, 1, 0))):
        Polygon((19, -22.8), (26, -22.8), (26, -32), (19, -32), (19, -30.5), (22, -30.5), (22, -29), (19, -29), align=None)
    extrude(amount=EXTRUDE_18_DEPTH)

    # 草图71 → 凸台-拉伸19 (add)
    with BuildSketch(Plane(origin=(0, 42.686326975, 0), x_dir=(1, 0, 0), z_dir=(0, 1, 0))):
        with Locations((23, -9.8)):
            Rectangle(SKETCH_71_W, SKETCH_71_H)
    extrude(amount=EXTRUDE_19_DEPTH)

    # 草图72 → 凸台-拉伸20 (add)
    with BuildSketch(Plane(origin=(0, 28.686326975, 0), x_dir=(1, 0, 0), z_dir=(0, 1, 0))):
        with Locations((25.65, -9.8)):
            Rectangle(SKETCH_72_W, SKETCH_72_H)
    extrude(amount=EXTRUDE_20_DEPTH)

    # 草图73 → 凸台-拉伸21 (add)
    with BuildSketch(Plane(origin=(0, 31.686326975, 0), x_dir=(1, 0, 0), z_dir=(0, 1, 0))):
        with Locations((19.85, -9.8)):
            Rectangle(SKETCH_73_W, SKETCH_73_H)
    extrude(amount=EXTRUDE_21_DEPTH)

    # 草图74 → 切除-拉伸41 (cut)
    with BuildSketch(Plane.XZ.offset(-65.786326975)):
        with Locations((22.5, 9.8)):
            Rectangle(SKETCH_74_W, SKETCH_74_H)
    extrude(amount=-CUT_EXTRUDE_41_DEPTH, mode=Mode.SUBTRACT)

    # 草图75 → 切除-拉伸42 (cut)
    with BuildSketch(Plane.XZ.offset(-70.786326975)):
        with Locations((22.5, 9.8)):
            Rectangle(SKETCH_75_W, SKETCH_75_H)
    extrude(amount=-CUT_EXTRUDE_42_DEPTH, mode=Mode.SUBTRACT)

    # 草图76 → 凸台-拉伸22 (add)
    with BuildSketch(Plane(origin=(0, 25.686326975, 0), x_dir=(1, 0, 0), z_dir=(0, 1, 0))):
        with Locations((22.5, 1.6)):
            Rectangle(SKETCH_76_W, SKETCH_76_H)
    extrude(amount=EXTRUDE_22_DEPTH)

    # 草图77 → 凸台-拉伸23 (add)
    with BuildSketch(Plane(origin=(0, 25.686326975, 0), x_dir=(1, 0, 0), z_dir=(0, 1, 0))):
        with Locations((22.5, -21.2)):
            Rectangle(SKETCH_77_W, SKETCH_77_H)
    extrude(amount=EXTRUDE_23_DEPTH)

    # 草图78 → 切除-拉伸43 (cut, two sides: drawn at the far end of the back side and taken through both)
    with BuildSketch(Plane(origin=(0, 0, 31), x_dir=(-1, 0, 0), z_dir=(0, 0, -1)).offset(-CUT_EXTRUDE_43_DEPTH_BACK)):
        Polygon((-48.257359313, 97), (-26, 74.742640687), (-26, 97), align=None)
    extrude(amount=CUT_EXTRUDE_43_DEPTH + CUT_EXTRUDE_43_DEPTH_BACK, mode=Mode.SUBTRACT)

    # 草图79 → 切除-拉伸44 (cut)
    with BuildSketch(Plane(origin=(48.5, 0, 0), x_dir=(0, 0, -1), z_dir=(1, 0, 0))):
        with Locations((0, 7)):
            Rectangle(SKETCH_79_W, SKETCH_79_H)
    extrude(amount=-CUT_EXTRUDE_44_DEPTH, mode=Mode.SUBTRACT)

    # 草图80 → 切除-拉伸45 (cut)
    with BuildSketch(Plane.XY.offset(-4)):
        with Locations((51, 7)):
            Rectangle(SKETCH_80_W, SKETCH_80_H)
    extrude(amount=-CUT_EXTRUDE_45_DEPTH, mode=Mode.SUBTRACT)

    # 草图81 → 切除-拉伸46 (cut)
    with BuildSketch(Plane(origin=(0, 0, 4), x_dir=(-1, 0, 0), z_dir=(0, 0, -1))):
        with Locations((-51, 7)):
            Rectangle(SKETCH_81_W, SKETCH_81_H)
    extrude(amount=-CUT_EXTRUDE_46_DEPTH, mode=Mode.SUBTRACT)

    # 草图82 → 切除-拉伸47 (cut)
    with BuildSketch(Plane.ZY.offset(-56.5)):
        with Locations((0, 7)):
            Rectangle(SKETCH_82_W, SKETCH_82_H)
    extrude(amount=-CUT_EXTRUDE_47_DEPTH, mode=Mode.SUBTRACT)

    # 草图83 → 切除-拉伸48 (cut)
    with BuildSketch(Plane(origin=(0, 5, 0), x_dir=(1, 0, 0), z_dir=(0, 1, 0))):
        with Locations((52.5, 0)):
            Rectangle(SKETCH_83_W, SKETCH_83_H)
    extrude(amount=-CUT_EXTRUDE_48_DEPTH, mode=Mode.SUBTRACT)

    # 草图84 → 凸台-拉伸24 (add)
    with BuildSketch(Plane.ZY.offset(4)):
        with Locations((0, 98.5)):
            Rectangle(SKETCH_84_W, SKETCH_84_H)
    extrude(amount=EXTRUDE_24_DEPTH)

    # 草图85 → 凸台-拉伸25 (add)
    with BuildSketch(Plane.ZY.offset(4)):
        Polygon((30.5, 6), (29, 6), (29, 9), (-29, 9), (-29, 6), (-30.5, 6), (-30.5, 9), (-32, 9), (-32, 0), (32, 0), (32, 9), (30.5, 9), align=None)
    extrude(amount=EXTRUDE_25_DEPTH)

    # 草图86 → 凸台-拉伸26 (add)
    with BuildSketch(Plane.ZY.offset(19)):
        Polygon((30.5, 9), (30.5, 6), (29, 6), (29, 9), (-29, 9), (-29, 6), (-30.5, 6), (-30.5, 9), (-32, 9), (-32, 0), (32, 0), (32, 9), align=None)
    extrude(amount=-EXTRUDE_26_DEPTH)

    # 草图87 → 切除-拉伸49 (cut, through all)
    with BuildSketch(Plane(origin=(0, 0, -32), x_dir=(-1, 0, 0), z_dir=(0, 0, -1))):
        with Locations((17, 9)):
            Circle(SKETCH_87_R)
    extrude(amount=-CUT_EXTRUDE_49_DEPTH, mode=Mode.SUBTRACT)


solid = part.part
